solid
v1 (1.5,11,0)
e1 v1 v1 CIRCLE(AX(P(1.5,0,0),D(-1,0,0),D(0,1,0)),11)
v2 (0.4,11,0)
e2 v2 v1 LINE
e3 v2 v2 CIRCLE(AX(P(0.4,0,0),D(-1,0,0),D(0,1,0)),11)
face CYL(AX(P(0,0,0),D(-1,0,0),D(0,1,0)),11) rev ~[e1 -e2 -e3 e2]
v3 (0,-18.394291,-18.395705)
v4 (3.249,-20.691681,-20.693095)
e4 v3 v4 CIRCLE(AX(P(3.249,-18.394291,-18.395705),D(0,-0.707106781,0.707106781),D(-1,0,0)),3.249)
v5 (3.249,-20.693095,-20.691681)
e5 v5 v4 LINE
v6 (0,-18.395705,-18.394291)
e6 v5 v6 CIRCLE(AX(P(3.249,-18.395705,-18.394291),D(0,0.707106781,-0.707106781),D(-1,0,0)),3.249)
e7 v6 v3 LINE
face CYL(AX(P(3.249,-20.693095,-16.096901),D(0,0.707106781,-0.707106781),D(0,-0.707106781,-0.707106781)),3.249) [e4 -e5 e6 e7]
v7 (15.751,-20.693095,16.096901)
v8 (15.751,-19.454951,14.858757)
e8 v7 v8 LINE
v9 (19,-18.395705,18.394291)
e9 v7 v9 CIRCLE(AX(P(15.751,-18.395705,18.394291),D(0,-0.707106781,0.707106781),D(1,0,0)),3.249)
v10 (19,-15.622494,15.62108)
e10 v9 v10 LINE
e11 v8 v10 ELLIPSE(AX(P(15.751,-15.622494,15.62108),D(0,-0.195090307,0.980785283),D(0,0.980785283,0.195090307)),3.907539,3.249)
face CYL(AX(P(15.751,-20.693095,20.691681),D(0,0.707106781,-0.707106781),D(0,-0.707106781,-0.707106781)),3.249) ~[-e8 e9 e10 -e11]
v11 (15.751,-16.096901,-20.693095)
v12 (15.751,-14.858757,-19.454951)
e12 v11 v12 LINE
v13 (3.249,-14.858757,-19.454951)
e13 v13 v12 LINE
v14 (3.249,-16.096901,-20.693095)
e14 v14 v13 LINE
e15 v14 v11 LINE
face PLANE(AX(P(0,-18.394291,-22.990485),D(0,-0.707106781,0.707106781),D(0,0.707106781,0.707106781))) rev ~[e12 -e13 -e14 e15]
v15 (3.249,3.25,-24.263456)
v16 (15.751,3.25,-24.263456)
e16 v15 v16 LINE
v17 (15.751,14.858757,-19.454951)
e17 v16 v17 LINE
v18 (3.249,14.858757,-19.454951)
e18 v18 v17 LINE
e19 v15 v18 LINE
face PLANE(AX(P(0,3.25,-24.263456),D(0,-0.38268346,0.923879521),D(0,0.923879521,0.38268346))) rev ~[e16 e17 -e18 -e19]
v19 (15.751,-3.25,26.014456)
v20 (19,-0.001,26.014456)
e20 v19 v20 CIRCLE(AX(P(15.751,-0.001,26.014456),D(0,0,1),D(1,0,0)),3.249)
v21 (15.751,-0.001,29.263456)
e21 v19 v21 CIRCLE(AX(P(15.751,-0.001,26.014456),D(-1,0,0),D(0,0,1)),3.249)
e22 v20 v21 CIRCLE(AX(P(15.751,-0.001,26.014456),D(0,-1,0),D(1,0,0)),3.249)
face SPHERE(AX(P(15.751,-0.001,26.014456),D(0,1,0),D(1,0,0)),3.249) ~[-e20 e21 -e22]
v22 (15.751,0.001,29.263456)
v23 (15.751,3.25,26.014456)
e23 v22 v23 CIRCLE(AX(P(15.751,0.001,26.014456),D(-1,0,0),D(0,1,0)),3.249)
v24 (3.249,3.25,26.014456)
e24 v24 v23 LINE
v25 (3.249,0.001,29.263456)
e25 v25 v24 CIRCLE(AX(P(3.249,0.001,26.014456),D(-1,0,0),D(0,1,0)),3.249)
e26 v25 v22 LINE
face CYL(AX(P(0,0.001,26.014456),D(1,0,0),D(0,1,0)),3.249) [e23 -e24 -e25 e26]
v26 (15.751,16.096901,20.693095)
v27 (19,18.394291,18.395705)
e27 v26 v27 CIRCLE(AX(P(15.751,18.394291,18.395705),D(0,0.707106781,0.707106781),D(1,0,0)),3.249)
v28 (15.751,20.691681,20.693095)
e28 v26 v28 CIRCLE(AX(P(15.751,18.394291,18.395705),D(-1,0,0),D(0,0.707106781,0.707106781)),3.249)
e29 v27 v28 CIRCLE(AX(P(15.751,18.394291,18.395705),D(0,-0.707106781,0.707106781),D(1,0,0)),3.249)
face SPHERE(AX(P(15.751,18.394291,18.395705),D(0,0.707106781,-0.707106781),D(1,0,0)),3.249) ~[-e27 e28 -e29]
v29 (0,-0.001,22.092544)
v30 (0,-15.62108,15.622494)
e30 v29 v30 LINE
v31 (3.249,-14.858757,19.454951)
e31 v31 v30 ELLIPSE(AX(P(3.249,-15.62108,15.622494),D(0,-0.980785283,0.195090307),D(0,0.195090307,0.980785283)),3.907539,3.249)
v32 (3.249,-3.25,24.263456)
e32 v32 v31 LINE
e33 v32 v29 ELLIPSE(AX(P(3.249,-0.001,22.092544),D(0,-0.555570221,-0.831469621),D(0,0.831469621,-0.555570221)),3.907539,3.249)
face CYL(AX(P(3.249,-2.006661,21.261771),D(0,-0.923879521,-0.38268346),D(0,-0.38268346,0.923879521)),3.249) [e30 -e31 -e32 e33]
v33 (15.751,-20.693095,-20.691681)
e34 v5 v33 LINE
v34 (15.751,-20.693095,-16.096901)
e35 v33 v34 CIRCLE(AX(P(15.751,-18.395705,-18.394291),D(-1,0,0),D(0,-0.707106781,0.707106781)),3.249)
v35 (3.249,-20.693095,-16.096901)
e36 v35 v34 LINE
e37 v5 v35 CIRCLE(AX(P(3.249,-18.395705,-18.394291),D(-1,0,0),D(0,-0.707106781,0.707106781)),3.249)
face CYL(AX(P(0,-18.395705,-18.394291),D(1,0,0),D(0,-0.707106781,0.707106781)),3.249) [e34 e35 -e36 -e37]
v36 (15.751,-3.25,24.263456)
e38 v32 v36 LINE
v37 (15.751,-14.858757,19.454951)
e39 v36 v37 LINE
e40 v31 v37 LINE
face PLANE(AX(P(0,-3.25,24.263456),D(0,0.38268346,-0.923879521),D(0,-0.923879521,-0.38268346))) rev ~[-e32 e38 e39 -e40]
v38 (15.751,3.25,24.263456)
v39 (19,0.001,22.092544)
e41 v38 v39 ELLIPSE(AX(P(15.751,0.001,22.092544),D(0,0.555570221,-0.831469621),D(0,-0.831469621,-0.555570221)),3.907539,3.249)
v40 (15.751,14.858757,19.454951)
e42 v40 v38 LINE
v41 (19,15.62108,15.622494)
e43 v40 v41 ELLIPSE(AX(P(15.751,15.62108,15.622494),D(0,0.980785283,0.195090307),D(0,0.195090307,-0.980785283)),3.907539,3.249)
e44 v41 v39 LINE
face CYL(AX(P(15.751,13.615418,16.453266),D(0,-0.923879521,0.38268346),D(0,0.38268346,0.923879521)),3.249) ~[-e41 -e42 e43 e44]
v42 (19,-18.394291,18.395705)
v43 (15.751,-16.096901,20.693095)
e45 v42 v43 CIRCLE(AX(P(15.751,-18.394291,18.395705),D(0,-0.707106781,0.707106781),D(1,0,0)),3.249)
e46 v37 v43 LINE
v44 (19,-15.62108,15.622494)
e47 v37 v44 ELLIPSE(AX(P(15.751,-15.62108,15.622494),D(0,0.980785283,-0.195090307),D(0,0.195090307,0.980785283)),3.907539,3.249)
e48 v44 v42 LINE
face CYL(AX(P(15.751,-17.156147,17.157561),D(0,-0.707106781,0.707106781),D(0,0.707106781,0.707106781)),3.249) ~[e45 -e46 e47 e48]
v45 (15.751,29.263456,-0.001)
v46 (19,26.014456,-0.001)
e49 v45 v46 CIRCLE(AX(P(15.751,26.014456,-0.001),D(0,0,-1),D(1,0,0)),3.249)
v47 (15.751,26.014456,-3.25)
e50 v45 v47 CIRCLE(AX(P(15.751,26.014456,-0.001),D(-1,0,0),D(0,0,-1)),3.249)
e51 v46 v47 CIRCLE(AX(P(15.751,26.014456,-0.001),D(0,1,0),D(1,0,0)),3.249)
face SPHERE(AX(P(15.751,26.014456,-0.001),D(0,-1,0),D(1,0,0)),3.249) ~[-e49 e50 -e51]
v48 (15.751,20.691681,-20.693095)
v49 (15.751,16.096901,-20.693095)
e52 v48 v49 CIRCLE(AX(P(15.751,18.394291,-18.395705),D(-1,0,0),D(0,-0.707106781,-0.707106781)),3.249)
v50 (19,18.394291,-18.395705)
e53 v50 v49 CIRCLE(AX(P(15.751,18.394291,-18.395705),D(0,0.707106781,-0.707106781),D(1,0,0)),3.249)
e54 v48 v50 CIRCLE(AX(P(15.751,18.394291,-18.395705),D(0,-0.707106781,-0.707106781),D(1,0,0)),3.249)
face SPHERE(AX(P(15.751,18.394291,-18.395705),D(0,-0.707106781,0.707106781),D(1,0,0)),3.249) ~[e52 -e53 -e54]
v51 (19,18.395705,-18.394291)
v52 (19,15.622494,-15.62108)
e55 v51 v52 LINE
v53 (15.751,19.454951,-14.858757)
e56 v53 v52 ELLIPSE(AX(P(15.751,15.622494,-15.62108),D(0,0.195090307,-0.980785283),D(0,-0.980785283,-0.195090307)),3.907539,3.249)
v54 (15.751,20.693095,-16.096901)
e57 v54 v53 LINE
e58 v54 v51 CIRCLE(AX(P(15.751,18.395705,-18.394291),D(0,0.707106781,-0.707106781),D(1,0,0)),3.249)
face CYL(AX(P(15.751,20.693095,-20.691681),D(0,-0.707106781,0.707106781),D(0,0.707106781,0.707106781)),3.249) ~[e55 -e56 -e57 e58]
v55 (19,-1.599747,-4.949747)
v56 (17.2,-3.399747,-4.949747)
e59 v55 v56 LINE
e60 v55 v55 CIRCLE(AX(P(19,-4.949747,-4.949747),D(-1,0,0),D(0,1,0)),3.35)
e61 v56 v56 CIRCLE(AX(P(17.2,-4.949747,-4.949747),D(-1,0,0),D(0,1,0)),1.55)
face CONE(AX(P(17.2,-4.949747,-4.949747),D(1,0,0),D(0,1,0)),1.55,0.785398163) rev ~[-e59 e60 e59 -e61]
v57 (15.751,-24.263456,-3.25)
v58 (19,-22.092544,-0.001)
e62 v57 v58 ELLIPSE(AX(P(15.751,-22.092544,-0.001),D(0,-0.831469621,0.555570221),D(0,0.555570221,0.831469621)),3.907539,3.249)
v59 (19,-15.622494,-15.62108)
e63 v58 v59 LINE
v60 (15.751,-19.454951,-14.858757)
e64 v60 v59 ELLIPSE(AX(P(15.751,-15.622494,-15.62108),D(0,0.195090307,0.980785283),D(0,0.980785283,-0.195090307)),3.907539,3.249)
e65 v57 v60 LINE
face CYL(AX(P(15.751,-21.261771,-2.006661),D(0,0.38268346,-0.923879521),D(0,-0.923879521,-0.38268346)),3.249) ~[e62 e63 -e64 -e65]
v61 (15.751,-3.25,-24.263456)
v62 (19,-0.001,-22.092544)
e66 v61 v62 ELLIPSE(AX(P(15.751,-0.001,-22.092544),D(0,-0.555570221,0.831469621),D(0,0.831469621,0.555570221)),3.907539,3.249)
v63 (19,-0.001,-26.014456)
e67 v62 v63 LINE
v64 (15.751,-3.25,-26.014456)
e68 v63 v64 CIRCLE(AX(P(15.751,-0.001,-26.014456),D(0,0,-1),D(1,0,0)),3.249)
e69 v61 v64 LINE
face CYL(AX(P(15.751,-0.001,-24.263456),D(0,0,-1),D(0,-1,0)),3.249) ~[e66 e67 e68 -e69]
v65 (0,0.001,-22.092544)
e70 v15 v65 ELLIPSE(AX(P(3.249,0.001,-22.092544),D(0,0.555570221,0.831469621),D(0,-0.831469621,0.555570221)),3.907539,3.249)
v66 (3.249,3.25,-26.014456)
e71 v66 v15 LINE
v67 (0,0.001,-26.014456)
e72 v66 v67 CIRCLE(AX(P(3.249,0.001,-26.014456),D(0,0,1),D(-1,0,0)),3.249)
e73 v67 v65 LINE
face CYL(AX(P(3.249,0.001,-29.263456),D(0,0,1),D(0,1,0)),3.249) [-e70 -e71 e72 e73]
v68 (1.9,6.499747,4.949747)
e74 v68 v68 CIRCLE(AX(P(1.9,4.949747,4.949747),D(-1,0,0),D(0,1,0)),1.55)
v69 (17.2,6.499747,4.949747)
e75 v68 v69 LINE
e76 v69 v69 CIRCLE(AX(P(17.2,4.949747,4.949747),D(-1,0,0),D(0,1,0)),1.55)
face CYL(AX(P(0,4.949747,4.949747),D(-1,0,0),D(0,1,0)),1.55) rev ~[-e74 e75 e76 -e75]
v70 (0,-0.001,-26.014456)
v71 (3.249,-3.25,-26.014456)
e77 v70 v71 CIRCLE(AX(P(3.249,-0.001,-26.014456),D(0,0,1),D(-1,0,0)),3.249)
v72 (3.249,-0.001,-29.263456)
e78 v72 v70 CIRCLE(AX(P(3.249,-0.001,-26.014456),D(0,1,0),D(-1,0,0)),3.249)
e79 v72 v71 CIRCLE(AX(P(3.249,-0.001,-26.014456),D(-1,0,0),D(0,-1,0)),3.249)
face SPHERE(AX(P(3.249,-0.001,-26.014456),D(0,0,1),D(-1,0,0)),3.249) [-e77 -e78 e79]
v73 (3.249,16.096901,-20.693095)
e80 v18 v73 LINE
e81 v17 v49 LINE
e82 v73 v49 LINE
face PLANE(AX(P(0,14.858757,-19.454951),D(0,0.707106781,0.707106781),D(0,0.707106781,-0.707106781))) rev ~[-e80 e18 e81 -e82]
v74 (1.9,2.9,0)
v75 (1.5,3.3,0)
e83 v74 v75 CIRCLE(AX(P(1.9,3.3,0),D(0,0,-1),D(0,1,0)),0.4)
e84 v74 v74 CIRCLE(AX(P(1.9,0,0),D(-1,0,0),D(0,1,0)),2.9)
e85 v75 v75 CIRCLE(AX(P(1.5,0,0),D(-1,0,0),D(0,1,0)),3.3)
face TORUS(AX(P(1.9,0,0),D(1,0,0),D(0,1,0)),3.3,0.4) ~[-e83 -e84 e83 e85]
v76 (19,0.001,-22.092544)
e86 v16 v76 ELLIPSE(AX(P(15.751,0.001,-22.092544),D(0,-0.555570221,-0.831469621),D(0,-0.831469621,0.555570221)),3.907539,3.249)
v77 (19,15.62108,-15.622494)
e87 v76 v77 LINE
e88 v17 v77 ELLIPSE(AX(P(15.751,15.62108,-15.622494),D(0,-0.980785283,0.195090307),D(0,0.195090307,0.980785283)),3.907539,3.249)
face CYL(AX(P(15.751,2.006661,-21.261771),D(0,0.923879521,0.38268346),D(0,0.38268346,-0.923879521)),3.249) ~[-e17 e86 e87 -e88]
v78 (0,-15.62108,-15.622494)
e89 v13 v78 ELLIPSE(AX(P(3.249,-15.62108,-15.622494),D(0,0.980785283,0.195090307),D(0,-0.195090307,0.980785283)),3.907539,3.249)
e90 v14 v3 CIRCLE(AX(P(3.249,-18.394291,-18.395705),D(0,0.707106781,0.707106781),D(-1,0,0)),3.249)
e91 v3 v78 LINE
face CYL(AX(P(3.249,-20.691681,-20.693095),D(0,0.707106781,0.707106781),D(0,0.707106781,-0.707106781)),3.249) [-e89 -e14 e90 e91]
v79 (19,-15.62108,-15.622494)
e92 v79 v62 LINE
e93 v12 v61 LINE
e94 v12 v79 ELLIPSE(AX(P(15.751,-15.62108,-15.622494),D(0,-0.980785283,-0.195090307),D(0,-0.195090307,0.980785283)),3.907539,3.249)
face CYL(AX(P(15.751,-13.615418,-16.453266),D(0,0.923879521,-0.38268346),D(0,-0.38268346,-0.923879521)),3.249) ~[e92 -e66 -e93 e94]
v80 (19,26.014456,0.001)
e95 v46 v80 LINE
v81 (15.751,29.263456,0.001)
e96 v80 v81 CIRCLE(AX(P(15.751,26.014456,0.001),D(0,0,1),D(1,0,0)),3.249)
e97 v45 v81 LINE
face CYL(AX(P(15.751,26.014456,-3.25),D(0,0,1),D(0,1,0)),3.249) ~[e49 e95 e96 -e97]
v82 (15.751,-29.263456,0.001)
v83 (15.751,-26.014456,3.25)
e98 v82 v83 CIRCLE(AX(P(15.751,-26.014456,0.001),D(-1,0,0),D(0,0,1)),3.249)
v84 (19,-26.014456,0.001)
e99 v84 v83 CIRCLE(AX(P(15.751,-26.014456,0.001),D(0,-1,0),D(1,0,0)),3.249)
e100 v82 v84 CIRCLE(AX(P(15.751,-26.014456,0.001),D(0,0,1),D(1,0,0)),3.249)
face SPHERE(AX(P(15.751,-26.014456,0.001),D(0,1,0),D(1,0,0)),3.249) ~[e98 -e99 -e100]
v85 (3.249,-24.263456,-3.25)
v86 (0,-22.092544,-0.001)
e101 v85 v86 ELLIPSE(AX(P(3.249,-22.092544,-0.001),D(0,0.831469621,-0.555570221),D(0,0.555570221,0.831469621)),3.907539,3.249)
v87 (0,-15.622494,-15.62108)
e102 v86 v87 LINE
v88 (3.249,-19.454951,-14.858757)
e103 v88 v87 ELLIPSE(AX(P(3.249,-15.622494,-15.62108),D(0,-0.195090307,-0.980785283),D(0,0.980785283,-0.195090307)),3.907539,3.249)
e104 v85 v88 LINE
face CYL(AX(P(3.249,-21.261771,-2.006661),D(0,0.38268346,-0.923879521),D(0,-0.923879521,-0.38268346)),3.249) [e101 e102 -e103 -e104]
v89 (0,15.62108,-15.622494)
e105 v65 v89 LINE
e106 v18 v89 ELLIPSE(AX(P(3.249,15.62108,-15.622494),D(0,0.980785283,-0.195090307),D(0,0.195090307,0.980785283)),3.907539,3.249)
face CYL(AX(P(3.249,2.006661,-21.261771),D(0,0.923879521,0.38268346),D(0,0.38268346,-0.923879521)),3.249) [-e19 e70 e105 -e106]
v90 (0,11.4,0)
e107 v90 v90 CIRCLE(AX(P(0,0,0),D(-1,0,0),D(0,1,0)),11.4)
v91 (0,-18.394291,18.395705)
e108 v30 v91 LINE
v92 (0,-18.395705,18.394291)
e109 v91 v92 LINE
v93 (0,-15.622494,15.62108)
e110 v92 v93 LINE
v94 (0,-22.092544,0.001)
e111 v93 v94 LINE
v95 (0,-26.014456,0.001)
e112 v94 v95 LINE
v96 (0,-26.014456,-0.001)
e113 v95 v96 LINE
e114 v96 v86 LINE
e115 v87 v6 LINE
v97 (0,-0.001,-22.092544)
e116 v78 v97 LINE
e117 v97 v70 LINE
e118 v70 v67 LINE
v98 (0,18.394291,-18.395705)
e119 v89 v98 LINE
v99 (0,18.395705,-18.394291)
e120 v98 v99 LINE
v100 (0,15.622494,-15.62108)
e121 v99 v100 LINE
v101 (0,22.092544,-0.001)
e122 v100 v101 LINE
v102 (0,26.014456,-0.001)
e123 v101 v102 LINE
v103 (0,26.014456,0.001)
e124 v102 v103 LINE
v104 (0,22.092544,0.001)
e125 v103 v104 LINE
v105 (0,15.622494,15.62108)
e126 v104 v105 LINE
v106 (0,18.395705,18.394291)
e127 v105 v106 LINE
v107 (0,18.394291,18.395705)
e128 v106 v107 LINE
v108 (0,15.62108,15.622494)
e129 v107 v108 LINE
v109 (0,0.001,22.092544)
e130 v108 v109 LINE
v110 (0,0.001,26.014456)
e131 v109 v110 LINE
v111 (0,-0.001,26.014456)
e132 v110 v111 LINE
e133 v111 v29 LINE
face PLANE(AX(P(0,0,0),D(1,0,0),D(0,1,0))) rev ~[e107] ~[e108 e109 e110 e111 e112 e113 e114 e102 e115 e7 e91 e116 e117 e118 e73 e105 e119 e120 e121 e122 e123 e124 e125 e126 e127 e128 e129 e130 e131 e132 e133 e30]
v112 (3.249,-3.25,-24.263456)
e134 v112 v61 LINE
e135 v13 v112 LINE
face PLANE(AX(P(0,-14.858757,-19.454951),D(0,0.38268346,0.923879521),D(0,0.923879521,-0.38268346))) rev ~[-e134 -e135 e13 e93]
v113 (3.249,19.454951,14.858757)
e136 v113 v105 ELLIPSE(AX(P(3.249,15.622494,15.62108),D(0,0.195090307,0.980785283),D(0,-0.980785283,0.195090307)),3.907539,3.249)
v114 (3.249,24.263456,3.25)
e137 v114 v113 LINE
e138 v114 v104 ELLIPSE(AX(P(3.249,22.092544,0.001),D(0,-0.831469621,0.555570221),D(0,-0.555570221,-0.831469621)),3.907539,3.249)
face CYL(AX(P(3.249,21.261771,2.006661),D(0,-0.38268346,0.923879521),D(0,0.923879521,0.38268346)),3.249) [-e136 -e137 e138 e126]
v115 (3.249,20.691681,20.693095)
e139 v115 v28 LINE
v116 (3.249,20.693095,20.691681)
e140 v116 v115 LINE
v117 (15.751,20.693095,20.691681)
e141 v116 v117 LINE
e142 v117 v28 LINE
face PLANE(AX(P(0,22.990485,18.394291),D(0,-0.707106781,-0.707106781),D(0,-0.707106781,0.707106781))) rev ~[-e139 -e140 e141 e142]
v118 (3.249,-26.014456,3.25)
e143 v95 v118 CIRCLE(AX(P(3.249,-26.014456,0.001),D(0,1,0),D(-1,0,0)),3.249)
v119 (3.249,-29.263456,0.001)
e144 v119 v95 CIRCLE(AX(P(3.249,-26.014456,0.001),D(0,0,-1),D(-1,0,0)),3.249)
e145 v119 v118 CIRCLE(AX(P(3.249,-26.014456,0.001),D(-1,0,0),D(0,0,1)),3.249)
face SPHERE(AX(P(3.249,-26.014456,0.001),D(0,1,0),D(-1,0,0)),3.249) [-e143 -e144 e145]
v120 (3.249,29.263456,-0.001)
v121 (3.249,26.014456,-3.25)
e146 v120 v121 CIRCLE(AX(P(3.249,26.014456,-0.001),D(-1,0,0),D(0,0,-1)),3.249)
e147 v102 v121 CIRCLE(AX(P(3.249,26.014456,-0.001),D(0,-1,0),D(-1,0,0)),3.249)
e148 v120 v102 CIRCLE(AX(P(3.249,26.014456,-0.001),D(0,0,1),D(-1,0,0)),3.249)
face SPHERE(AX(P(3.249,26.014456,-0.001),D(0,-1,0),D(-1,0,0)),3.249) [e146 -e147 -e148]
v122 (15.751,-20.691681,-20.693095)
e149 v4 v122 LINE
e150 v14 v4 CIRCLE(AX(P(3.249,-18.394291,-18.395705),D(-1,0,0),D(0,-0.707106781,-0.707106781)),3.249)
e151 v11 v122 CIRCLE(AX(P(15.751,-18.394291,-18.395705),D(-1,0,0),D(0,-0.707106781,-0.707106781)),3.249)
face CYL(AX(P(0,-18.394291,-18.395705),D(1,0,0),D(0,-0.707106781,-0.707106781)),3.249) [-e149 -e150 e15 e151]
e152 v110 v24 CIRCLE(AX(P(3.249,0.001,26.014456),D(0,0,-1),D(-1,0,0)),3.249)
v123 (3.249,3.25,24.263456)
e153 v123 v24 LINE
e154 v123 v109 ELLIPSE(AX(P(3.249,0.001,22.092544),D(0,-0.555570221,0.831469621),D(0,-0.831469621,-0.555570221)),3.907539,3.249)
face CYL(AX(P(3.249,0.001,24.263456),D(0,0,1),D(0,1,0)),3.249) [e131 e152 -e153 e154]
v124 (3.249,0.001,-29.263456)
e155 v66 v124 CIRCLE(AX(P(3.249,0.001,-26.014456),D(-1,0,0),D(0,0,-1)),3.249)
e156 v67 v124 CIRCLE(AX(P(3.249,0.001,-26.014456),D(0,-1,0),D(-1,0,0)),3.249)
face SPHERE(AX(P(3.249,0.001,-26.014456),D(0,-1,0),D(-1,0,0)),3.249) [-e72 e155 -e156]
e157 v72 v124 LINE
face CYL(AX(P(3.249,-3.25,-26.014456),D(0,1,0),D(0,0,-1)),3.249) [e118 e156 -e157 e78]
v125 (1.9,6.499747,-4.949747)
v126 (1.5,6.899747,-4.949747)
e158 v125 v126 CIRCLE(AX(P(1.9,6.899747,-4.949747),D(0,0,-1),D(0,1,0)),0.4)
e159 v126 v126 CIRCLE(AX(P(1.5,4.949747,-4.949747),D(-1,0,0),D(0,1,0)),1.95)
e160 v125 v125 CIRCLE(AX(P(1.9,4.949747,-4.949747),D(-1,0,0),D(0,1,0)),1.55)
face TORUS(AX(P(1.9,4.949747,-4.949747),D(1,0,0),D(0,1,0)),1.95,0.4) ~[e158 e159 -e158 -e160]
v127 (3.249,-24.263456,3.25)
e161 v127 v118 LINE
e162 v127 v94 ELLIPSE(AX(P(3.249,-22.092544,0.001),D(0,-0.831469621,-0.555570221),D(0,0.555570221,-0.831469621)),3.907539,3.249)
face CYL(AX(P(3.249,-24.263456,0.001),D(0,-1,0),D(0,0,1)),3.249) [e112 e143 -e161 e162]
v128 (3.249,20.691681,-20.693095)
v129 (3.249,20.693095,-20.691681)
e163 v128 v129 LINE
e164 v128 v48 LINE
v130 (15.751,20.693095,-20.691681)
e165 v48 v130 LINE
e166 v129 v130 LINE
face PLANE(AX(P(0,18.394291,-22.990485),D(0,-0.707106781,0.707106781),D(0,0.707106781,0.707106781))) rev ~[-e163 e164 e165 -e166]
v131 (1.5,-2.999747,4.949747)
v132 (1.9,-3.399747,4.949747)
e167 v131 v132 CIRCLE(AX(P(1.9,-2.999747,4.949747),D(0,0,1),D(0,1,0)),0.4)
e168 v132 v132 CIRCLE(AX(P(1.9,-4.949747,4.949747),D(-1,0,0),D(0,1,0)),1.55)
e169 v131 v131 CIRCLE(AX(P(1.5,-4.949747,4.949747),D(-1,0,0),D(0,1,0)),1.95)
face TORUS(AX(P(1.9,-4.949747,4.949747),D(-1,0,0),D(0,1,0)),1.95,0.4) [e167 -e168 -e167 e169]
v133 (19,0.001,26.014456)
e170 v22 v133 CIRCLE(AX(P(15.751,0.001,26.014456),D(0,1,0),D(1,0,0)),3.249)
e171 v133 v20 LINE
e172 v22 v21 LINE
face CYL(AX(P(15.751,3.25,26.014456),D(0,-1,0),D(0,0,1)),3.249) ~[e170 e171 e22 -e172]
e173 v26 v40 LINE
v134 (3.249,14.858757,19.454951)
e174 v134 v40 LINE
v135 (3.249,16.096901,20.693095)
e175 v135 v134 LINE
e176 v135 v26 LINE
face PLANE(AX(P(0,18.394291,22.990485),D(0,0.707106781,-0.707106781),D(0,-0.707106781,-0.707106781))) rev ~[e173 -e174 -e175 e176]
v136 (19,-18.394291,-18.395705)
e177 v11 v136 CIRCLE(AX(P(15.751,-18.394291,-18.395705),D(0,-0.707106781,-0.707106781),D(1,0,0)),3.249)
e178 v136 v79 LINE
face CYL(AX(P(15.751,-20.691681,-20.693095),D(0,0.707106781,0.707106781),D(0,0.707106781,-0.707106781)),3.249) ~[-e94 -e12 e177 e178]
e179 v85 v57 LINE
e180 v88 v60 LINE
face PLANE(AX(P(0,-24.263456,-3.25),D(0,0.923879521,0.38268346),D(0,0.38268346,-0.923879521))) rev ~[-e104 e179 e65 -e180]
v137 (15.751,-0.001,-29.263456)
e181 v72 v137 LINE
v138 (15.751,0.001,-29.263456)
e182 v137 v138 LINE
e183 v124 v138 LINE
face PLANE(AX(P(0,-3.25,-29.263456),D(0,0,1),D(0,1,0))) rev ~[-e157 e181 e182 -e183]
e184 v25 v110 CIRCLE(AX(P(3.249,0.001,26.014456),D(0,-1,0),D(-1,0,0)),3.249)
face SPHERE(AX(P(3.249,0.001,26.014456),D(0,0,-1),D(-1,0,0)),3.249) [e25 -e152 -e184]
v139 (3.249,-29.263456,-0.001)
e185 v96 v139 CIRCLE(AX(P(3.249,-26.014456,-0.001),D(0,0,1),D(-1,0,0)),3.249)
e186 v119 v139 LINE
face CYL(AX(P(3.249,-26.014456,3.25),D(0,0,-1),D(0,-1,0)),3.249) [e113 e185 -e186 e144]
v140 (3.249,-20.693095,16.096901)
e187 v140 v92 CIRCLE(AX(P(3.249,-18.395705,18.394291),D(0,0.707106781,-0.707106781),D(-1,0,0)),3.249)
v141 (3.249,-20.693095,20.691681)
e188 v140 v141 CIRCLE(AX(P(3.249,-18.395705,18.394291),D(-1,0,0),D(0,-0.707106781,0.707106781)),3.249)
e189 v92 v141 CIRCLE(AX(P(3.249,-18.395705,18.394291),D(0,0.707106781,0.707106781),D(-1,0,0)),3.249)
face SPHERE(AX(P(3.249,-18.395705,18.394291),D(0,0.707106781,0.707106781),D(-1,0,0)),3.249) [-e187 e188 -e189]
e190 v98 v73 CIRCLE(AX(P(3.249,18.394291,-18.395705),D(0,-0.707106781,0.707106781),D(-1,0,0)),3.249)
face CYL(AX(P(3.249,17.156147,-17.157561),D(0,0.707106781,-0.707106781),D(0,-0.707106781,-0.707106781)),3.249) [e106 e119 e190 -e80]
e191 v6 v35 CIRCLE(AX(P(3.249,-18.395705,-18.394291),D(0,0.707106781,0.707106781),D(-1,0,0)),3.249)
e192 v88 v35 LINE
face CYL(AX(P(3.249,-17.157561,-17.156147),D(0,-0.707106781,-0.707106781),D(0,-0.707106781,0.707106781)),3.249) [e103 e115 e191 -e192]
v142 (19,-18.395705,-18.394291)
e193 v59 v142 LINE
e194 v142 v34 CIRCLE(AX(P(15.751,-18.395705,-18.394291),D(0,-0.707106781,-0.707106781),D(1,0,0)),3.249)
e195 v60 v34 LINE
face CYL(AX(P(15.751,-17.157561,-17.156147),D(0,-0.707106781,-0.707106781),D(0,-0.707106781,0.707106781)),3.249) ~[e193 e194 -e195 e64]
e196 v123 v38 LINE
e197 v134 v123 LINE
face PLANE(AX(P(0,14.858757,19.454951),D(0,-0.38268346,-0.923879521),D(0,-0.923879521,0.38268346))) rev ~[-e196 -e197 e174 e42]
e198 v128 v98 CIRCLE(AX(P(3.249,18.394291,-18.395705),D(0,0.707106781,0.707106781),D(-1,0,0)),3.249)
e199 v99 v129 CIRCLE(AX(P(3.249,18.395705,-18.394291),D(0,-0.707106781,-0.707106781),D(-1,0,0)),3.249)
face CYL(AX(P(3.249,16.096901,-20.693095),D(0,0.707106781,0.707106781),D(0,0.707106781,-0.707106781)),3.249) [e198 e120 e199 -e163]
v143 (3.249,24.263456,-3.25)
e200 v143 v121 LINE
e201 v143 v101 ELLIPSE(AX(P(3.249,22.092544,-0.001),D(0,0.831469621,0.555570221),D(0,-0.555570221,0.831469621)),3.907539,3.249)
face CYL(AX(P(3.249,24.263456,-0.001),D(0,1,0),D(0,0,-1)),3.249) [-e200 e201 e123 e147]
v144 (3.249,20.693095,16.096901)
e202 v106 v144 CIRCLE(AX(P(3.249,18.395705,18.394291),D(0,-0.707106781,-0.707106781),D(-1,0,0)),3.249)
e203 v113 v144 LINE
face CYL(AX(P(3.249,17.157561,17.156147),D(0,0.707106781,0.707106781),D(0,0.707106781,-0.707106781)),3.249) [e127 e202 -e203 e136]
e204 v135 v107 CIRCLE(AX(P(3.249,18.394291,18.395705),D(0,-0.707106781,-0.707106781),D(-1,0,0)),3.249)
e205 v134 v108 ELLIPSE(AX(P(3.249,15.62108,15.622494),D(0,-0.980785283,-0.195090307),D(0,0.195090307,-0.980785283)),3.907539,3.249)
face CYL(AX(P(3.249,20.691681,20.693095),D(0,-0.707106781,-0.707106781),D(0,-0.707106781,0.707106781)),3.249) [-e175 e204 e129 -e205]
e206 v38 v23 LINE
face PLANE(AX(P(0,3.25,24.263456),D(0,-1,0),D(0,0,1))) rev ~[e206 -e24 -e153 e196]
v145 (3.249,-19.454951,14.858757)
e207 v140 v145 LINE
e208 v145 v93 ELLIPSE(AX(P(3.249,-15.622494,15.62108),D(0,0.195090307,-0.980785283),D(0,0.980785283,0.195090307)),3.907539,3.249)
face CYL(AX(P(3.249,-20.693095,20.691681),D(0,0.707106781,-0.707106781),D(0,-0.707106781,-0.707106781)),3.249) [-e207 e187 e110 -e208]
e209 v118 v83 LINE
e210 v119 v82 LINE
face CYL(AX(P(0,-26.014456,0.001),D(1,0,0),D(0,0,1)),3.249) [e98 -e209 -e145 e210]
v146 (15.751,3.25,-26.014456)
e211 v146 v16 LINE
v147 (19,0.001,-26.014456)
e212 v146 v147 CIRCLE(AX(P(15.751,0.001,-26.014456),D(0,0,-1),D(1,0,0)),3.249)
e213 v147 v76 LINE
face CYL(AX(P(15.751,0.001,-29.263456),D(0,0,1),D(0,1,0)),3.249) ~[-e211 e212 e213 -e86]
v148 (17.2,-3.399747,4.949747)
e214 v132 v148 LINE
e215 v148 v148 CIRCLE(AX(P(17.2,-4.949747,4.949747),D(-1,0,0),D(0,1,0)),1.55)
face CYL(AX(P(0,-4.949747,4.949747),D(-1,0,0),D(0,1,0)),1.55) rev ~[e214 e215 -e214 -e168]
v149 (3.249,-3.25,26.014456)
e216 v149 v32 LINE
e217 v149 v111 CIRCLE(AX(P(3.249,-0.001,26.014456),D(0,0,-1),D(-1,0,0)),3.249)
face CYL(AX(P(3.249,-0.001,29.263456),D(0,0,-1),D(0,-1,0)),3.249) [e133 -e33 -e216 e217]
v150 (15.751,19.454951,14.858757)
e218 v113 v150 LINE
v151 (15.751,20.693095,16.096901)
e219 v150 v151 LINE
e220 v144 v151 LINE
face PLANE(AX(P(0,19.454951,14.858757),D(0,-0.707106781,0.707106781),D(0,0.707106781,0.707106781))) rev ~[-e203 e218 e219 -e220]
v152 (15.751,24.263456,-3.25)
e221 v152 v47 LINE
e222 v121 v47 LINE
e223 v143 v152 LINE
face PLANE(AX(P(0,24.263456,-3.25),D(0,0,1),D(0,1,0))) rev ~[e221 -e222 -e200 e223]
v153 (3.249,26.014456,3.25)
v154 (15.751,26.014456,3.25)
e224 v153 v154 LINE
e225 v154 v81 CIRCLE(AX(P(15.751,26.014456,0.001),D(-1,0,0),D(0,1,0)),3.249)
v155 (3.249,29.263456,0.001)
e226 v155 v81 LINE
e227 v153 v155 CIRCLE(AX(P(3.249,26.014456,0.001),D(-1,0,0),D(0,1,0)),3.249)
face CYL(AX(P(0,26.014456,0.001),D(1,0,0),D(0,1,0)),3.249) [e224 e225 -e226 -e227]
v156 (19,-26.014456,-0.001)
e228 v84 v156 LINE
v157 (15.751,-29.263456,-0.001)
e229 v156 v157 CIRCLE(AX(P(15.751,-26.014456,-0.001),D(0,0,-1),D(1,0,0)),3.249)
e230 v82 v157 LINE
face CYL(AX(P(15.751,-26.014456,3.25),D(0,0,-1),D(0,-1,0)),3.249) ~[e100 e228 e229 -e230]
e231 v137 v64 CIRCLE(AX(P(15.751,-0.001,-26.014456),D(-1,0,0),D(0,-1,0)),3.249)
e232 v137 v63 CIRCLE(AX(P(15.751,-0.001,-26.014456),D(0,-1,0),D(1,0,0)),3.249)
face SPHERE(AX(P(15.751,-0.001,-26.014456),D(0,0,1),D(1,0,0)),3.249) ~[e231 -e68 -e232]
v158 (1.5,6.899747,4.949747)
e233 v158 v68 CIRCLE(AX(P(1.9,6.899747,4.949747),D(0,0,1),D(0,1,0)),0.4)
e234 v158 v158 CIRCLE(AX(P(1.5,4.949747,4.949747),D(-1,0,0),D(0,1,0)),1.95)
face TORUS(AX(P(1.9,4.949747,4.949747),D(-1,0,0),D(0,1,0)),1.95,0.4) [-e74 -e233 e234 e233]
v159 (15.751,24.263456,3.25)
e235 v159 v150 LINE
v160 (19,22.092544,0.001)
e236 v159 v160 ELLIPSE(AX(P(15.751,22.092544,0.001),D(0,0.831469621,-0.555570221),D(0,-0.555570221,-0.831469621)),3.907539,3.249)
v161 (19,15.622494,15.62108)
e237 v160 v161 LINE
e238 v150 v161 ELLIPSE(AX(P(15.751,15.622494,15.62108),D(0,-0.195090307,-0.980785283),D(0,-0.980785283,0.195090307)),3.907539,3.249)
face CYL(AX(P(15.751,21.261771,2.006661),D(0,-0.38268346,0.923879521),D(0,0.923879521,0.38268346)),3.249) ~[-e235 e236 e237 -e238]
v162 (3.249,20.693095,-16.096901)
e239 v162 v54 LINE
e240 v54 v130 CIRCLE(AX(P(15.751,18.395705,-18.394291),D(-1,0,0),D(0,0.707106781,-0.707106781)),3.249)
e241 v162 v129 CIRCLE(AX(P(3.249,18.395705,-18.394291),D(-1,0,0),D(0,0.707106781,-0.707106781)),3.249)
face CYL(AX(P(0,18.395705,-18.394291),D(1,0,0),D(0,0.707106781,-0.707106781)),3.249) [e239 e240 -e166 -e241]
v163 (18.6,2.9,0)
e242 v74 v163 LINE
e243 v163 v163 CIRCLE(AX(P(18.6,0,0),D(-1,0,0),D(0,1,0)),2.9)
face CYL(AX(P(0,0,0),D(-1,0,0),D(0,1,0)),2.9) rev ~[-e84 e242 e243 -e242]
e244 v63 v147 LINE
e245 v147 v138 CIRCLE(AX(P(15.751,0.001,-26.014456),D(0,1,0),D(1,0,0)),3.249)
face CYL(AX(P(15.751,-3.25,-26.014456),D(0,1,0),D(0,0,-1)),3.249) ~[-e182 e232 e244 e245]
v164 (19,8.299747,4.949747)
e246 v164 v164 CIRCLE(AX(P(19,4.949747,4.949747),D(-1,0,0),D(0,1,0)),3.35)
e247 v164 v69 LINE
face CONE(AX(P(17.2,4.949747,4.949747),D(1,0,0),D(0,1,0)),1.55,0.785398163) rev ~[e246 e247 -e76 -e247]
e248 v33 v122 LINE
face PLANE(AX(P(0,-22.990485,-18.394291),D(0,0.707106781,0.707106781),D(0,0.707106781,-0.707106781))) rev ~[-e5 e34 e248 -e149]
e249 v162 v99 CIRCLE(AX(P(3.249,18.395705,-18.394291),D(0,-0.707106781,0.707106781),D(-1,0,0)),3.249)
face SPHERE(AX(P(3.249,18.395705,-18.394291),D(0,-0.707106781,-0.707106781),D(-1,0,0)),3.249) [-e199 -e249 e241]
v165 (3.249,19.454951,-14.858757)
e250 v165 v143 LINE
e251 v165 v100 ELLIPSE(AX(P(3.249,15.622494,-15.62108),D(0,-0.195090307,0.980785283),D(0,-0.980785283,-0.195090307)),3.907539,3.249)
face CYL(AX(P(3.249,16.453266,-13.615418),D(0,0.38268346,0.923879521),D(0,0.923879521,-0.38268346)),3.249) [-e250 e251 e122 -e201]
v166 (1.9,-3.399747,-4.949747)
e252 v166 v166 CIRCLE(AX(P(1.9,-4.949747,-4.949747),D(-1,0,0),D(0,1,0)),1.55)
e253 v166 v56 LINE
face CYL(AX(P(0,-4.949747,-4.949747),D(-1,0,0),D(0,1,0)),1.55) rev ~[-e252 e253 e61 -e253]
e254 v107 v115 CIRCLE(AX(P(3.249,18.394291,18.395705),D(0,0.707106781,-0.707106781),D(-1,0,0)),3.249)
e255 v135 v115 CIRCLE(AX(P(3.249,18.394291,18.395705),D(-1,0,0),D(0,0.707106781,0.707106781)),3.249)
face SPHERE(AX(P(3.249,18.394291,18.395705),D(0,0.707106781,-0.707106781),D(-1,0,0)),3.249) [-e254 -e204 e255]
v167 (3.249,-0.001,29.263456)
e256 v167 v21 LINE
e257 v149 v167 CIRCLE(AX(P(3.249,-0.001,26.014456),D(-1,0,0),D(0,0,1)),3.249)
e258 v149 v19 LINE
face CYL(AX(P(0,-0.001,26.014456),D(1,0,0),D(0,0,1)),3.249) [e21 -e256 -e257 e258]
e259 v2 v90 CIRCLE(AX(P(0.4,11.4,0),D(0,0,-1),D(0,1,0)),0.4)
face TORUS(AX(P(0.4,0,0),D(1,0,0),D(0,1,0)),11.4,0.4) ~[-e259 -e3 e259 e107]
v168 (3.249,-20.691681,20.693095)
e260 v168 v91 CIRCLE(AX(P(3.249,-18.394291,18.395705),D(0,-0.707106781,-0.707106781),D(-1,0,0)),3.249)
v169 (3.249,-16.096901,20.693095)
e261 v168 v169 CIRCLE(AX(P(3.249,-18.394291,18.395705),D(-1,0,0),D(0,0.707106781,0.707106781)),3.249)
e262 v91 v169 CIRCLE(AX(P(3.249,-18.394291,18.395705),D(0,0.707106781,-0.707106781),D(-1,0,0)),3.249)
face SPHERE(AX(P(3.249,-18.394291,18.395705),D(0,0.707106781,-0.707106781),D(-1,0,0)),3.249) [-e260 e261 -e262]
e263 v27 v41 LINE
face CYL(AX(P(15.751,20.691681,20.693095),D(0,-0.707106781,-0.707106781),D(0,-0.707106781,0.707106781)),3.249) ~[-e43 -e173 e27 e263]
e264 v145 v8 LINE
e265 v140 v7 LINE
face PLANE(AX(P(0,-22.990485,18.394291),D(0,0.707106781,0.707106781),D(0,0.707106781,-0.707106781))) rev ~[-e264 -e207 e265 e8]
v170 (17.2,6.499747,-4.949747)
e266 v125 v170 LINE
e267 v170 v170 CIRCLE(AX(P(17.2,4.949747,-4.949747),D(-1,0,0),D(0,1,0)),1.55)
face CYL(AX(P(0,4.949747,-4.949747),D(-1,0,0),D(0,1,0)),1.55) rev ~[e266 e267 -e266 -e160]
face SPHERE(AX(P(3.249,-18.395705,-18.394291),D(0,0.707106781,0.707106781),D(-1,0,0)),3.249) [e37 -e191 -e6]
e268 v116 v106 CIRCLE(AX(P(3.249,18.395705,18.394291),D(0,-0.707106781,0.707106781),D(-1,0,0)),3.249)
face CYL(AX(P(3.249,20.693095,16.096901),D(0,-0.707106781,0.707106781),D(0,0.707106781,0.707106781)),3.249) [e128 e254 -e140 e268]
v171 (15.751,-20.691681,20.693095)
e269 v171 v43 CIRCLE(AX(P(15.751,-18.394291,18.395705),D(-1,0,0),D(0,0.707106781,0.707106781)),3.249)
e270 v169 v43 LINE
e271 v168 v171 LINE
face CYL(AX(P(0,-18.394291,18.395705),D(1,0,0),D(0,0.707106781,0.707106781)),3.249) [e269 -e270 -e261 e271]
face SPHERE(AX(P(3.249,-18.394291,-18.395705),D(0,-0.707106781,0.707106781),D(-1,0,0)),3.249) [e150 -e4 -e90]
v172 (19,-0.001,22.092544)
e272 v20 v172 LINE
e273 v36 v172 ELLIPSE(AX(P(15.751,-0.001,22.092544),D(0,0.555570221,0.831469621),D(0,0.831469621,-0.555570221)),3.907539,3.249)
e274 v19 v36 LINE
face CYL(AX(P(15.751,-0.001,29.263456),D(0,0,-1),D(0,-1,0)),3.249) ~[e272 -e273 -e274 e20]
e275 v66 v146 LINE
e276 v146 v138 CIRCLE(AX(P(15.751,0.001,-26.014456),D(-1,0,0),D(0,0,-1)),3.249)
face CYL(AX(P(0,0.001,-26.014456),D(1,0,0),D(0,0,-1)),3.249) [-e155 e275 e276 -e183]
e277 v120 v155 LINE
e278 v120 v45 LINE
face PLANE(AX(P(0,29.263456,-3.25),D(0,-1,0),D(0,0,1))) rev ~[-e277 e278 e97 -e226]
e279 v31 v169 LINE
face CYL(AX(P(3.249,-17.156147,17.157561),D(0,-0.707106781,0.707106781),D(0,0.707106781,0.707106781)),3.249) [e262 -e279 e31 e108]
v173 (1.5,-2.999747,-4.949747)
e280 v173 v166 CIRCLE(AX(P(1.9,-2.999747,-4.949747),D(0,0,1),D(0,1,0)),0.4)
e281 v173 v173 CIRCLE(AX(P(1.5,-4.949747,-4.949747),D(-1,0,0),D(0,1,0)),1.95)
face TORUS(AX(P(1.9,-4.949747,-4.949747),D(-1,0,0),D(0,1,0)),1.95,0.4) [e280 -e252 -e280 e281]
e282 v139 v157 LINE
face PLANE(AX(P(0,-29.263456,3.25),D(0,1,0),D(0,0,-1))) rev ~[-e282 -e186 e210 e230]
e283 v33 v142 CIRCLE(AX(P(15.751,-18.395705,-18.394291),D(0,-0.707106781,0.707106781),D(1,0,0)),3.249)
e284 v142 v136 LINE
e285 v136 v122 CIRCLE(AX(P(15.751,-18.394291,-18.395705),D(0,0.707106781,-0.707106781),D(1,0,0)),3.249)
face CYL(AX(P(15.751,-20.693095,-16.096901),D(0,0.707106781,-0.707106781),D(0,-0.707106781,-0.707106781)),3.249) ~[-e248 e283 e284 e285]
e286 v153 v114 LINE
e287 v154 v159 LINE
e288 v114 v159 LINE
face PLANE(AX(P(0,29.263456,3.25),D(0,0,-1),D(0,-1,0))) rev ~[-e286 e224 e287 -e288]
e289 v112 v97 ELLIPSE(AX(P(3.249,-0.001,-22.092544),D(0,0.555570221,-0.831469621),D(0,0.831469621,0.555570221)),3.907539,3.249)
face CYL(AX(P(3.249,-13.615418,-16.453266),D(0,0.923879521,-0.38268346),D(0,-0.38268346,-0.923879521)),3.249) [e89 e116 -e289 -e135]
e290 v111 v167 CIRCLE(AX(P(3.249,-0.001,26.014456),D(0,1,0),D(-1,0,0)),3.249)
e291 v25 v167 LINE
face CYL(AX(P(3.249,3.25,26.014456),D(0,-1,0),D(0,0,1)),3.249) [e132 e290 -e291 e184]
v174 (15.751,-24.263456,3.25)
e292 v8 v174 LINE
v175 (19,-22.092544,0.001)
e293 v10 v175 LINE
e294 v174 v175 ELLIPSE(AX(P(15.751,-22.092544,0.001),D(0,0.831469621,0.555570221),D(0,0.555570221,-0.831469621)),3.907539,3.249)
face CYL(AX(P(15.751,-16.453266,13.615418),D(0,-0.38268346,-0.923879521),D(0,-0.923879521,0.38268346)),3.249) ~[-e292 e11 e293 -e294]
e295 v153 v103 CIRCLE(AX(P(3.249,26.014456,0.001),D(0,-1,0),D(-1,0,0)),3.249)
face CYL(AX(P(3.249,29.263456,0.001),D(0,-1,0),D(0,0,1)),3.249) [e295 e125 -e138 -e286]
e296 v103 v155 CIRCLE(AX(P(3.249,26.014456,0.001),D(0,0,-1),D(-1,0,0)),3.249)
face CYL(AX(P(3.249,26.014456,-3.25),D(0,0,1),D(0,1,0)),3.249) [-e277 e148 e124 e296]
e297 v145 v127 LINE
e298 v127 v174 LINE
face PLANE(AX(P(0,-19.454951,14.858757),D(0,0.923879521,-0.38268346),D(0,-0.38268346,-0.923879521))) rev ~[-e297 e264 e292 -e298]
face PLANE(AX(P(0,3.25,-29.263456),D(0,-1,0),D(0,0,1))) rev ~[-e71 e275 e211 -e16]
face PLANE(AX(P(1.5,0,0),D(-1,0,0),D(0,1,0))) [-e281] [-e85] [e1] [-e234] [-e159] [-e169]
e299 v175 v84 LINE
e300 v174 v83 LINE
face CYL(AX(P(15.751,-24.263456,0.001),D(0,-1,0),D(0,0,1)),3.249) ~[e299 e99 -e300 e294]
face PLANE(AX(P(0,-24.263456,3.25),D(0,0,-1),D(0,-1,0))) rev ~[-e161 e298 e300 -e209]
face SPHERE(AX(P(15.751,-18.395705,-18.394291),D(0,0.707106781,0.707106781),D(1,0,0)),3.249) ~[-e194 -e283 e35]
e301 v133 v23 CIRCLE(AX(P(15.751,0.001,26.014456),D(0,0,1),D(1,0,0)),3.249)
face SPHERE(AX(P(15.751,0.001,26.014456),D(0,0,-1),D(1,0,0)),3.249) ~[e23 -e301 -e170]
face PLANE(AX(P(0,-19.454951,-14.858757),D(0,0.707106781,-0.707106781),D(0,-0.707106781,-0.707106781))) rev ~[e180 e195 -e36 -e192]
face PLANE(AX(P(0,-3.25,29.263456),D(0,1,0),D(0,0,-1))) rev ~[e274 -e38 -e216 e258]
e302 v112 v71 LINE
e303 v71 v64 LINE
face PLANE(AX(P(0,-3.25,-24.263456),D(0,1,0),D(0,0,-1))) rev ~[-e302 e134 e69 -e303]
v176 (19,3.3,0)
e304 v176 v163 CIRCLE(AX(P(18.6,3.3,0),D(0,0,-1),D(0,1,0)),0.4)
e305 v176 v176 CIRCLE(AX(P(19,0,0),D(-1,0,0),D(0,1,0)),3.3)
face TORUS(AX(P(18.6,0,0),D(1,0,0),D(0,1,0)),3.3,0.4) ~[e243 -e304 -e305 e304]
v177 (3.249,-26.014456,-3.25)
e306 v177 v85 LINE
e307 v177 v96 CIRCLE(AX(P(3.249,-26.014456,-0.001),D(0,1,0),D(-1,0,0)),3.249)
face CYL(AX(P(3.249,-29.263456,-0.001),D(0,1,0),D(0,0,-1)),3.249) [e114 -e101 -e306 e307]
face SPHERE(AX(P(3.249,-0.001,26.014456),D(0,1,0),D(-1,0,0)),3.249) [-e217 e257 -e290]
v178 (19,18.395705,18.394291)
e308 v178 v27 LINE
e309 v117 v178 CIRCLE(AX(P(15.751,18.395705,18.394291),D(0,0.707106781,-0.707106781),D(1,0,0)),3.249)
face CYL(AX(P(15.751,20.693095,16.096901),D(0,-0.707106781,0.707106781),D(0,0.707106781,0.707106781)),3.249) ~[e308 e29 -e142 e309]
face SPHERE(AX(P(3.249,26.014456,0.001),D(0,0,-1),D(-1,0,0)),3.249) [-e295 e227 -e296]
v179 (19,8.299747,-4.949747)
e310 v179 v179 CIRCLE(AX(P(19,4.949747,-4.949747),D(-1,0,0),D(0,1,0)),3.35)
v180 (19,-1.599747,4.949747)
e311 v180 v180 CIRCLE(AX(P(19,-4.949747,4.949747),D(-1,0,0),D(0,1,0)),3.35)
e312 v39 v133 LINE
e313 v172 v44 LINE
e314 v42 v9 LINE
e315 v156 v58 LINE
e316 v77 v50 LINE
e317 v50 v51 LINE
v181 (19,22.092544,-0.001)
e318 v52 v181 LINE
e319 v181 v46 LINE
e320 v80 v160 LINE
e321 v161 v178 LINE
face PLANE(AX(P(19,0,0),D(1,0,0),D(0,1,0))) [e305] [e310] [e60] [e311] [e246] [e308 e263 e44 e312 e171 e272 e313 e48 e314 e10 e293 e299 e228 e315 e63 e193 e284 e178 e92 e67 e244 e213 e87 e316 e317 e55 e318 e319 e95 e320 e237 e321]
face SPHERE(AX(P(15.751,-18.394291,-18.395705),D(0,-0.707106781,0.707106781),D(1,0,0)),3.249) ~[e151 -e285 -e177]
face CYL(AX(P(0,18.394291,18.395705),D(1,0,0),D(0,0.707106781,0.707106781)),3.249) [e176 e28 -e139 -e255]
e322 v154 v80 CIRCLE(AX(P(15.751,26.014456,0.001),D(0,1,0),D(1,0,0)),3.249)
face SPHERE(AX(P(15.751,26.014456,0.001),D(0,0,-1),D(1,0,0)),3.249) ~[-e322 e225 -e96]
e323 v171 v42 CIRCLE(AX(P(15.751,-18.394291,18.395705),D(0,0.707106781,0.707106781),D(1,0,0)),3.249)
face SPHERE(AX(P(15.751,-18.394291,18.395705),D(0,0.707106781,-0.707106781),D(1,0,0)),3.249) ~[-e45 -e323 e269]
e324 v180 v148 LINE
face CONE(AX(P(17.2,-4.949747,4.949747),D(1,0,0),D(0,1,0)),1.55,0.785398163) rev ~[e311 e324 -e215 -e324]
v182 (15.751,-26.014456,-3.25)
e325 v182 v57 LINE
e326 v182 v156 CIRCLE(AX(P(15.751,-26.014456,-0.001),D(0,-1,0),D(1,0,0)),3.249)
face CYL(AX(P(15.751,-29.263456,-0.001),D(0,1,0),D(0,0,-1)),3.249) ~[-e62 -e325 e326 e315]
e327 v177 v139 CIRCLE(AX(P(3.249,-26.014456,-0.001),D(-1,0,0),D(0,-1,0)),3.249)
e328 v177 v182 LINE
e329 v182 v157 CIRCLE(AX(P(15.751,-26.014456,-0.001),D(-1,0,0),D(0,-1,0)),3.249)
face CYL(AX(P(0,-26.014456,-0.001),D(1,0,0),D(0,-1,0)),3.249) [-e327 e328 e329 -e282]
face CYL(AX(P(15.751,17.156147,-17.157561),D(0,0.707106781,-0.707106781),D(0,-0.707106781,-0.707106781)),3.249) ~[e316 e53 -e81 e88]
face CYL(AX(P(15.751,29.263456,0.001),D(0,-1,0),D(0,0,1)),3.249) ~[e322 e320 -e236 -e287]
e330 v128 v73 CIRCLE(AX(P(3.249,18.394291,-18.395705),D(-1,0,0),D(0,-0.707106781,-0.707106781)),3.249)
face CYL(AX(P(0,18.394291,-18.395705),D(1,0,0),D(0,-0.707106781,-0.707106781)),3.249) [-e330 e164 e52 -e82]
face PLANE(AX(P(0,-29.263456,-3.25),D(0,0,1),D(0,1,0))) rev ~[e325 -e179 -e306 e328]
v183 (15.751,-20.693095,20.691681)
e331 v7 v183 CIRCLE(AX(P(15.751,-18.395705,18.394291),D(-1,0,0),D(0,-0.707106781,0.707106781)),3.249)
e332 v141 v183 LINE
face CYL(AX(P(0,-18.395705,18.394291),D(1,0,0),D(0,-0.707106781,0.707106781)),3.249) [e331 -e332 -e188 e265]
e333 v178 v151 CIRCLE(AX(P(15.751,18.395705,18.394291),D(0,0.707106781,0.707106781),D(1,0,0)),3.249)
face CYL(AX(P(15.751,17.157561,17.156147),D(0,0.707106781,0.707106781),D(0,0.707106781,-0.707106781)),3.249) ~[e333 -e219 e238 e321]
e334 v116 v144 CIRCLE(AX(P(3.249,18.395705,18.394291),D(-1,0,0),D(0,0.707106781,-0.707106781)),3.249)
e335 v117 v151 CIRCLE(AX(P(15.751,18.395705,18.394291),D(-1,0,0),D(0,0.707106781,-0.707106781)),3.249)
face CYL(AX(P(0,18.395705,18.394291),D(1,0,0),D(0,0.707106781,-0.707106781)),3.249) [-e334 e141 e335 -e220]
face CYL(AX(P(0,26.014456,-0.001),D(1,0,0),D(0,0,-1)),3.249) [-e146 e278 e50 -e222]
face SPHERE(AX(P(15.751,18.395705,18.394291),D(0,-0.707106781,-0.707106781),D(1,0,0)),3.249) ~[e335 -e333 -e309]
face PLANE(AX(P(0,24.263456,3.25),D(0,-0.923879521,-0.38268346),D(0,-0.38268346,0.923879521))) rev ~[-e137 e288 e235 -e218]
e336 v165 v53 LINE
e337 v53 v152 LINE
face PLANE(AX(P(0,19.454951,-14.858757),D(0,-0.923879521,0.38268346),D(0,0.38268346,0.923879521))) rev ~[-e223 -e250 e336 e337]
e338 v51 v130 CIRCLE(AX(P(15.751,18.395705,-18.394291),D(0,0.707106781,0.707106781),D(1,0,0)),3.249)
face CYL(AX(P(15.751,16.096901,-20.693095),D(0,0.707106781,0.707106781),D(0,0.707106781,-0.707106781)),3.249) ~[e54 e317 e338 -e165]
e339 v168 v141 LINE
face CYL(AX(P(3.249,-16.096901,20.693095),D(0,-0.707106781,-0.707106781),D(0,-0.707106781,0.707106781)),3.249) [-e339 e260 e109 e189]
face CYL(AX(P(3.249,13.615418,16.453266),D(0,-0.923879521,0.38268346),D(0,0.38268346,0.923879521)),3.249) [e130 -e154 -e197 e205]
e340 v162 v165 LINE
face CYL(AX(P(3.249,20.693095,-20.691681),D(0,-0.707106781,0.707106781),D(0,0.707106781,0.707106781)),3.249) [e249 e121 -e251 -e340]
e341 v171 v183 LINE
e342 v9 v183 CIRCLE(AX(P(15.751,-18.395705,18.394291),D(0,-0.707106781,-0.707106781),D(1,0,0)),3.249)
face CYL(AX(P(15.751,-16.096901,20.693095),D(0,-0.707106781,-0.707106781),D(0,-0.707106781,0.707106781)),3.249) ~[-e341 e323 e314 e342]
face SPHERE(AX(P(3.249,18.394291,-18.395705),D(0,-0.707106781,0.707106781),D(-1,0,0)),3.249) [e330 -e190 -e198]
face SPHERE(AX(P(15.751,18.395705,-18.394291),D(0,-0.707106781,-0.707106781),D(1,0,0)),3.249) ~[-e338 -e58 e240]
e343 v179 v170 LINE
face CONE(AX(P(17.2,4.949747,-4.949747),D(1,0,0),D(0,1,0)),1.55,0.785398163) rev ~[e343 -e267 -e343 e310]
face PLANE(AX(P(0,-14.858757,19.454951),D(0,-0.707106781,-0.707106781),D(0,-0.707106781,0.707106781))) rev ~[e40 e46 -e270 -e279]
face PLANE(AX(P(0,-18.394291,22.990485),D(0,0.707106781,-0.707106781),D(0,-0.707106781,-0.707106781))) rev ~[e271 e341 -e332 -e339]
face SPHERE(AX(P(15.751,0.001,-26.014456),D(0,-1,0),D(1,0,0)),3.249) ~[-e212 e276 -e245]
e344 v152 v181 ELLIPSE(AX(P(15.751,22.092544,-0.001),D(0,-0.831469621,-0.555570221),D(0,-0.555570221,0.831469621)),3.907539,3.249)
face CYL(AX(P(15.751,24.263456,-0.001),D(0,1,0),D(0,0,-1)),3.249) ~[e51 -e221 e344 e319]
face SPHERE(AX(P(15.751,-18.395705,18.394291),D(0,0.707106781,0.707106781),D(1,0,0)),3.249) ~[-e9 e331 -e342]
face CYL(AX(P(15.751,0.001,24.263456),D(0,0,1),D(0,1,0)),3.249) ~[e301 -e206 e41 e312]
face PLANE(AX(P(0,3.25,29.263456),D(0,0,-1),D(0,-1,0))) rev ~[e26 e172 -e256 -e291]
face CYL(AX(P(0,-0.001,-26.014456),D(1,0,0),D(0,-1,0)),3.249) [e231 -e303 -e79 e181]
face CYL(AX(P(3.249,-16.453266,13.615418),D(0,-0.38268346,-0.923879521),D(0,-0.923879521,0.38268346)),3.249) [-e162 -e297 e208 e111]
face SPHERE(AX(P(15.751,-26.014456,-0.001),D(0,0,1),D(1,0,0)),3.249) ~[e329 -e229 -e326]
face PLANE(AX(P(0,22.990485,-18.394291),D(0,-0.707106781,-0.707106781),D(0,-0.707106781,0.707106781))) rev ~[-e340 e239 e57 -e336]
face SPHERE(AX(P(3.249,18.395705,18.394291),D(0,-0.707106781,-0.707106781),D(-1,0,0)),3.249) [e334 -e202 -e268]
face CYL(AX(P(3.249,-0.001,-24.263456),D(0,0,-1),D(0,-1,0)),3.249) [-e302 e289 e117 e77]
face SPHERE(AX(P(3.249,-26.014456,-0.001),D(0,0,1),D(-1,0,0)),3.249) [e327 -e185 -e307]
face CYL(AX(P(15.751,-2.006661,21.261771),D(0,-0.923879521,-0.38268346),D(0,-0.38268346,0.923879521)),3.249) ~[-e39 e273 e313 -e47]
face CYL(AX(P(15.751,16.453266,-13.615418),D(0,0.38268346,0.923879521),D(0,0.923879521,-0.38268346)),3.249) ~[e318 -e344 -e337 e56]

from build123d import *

# Parameters (mm, degrees)
PAD002_DEPTH    = 19
FILLET005_R     = 3.249
SKETCH006_R     = 1.55
SKETCH006_R_2   = 2.9
POCKET002_DEPTH = 19.001
SKETCH005_R     = 11
POCKET003_DEPTH = 1.5
CHAMFER_SIZE    = 1.8
FILLET006_R     = 0.4


with BuildPart() as part:
    # Sketch004 → Pad002 (new body)
    with BuildSketch(Plane.YZ):
        Polygon((-24.263456, 3.25), (-29.263456, 3.25), (-29.263456, -3.25), (-24.263456, -3.25), (-19.454951, -14.858757), (-22.990485, -18.394291), (-18.394291, -22.990485), (-14.858757, -19.454951), (-3.25, -24.263456), (-3.25, -29.263456), (3.25, -29.263456), (3.25, -24.263456), (14.858757, -19.454951), (18.394291, -22.990485), (22.990485, -18.394291), (19.454951, -14.858757), (24.263456, -3.25), (29.263456, -3.25), (29.263456, 3.25), (24.263456, 3.25), (19.454951, 14.858757), (22.990485, 18.394291), (18.394291, 22.990485), (14.858757, 19.454951), (3.25, 24.263456), (3.25, 29.263456), (-3.25, 29.263456), (-3.25, 24.263456), (-14.858757, 19.454951), (-18.394291, 22.990485), (-22.990485, 18.394291), (-19.454951, 14.858757), align=None)
    extrude(amount=PAD002_DEPTH)

    # Fillet005
    fillet005_edges = [part.edges().sort_by_distance(p)[0] for p in [
        (19, -16.626524, 21.222718),
        (19, -20.692388, 20.692388),
        (19, -21.222718, 16.626524),
        (19, -21.859204, 9.054379),
        (19, -26.763456, 3.25),
        (19, -29.263456, 0),
        (19, -26.763456, -3.25),
        (19, -21.859204, -9.054379),
        (19, -21.222718, -16.626524),
        (19, -20.692388, -20.692388),
        (19, -16.626524, -21.222718),
        (19, -9.054379, -21.859204),
        (19, -3.25, -26.763456),
        (19, 0, -29.263456),
        (19, 3.25, -26.763456),
        (19, 9.054379, -21.859204),
        (19, 16.626524, -21.222718),
        (19, 20.692388, -20.692388),
        (19, 21.222718, -16.626524),
        (19, 21.859204, -9.054379),
        (19, 26.763456, -3.25),
        (19, 29.263456, 0),
        (19, 26.763456, 3.25),
        (19, 21.859204, 9.054379),
        (19, 21.222718, 16.626524),
        (19, 20.692388, 20.692388),
        (19, 16.626524, 21.222718),
        (19, 9.054379, 21.859204),
        (19, 3.25, 26.763456),
        (19, 0, 29.263456),
        (19, -3.25, 26.763456),
        (19, -9.054379, 21.859204),
        (0, -16.626524, 21.222718),
        (0, -20.692388, 20.692388),
        (0, -21.222718, 16.626524),
        (0, -21.859204, 9.054379),
        (0, -26.763456, 3.25),
        (0, -29.263456, 0),
        (0, -26.763456, -3.25),
        (0, -21.859204, -9.054379),
        (0, -21.222718, -16.626524),
        (0, -20.692388, -20.692388),
        (0, -16.626524, -21.222718),
        (0, -9.054379, -21.859204),
        (0, -3.25, -26.763456),
        (0, 0, -29.263456),
        (0, 3.25, -26.763456),
        (0, 9.054379, -21.859204),
        (0, 16.626524, -21.222718),
        (0, 20.692388, -20.692388),
        (0, 21.222718, -16.626524),
        (0, 21.859204, -9.054379),
        (0, 26.763456, -3.25),
        (0, 29.263456, 0),
        (0, 26.763456, 3.25),
        (0, 21.859204, 9.054379),
        (0, 21.222718, 16.626524),
        (0, 20.692388, 20.692388),
        (0, 16.626524, 21.222718),
        (0, 9.054379, 21.859204),
        (0, 3.25, 26.763456),
        (0, 0, 29.263456),
        (0, -3.25, 26.763456),
        (0, -9.054379, 21.859204),
        (9.5, -29.263456, 3.25),
        (9.5, -29.263456, -3.25),
        (9.5, -18.394291, 22.990485),
        (9.5, -22.990485, 18.394291),
        (9.5, -3.25, 29.263456),
        (9.5, 3.25, 29.263456),
        (9.5, -22.990485, -18.394291),
        (9.5, -18.394291, -22.990485),
        (9.5, 18.394291, 22.990485),
        (9.5, 22.990485, 18.394291),
        (9.5, 29.263456, -3.25),
        (9.5, 29.263456, 3.25),
        (9.5, 18.394291, -22.990485),
        (9.5, 22.990485, -18.394291),
        (9.5, -3.25, -29.263456),
        (9.5, 3.25, -29.263456),
    ]]
    fillet(fillet005_edges, radius=FILLET005_R)

    # Sketch006 (on Face9 of Fillet005) → Pocket002 (cut, through all)
    with BuildSketch(Plane(origin=(0, 0, 0), x_dir=(0, 1, 0), z_dir=(-1, 0, 0))):
        with Locations((-4.949747, 4.949747)):
            Circle(SKETCH006_R)
        with Locations((4.949747, 4.949747)):
            Circle(SKETCH006_R)
        with Locations((-4.949747, -4.949747)):
            Circle(SKETCH006_R)
        with Locations((4.949747, -4.949747)):
            Circle(SKETCH006_R)
        Circle(SKETCH006_R_2)
    extrude(amount=-POCKET002_DEPTH, mode=Mode.SUBTRACT)

    # Sketch005 (on Face9 of Fillet005) → Pocket003 (cut)
    with BuildSketch(Plane(origin=(0, 0, 0), x_dir=(0, 1, 0), z_dir=(-1, 0, 0))):
        Circle(SKETCH005_R)
    extrude(amount=-POCKET003_DEPTH, mode=Mode.SUBTRACT)

    # Chamfer
    chamfer_edges = [part.edges().sort_by_distance(p)[0] for p in [
        (19, 3.399747, -4.949747),
        (19, -6.499747, -4.949747),
        (19, 3.399747, 4.949747),
        (19, -6.499747, 4.949747),
    ]]
    chamfer(chamfer_edges, length=CHAMFER_SIZE)

    # Fillet006
    fillet006_edges = [part.edges().sort_by_distance(p)[0] for p in [
        (0, -11, 0),
        (1.5, -6.499747, 4.949747),
        (1.5, 3.399747, 4.949747),
        (1.5, -2.9, 0),
        (1.5, 3.399747, -4.949747),
        (1.5, -6.499747, -4.949747),
        (19, -2.9, 0),
    ]]
    fillet(fillet006_edges, radius=FILLET006_R)


solid = part.part
